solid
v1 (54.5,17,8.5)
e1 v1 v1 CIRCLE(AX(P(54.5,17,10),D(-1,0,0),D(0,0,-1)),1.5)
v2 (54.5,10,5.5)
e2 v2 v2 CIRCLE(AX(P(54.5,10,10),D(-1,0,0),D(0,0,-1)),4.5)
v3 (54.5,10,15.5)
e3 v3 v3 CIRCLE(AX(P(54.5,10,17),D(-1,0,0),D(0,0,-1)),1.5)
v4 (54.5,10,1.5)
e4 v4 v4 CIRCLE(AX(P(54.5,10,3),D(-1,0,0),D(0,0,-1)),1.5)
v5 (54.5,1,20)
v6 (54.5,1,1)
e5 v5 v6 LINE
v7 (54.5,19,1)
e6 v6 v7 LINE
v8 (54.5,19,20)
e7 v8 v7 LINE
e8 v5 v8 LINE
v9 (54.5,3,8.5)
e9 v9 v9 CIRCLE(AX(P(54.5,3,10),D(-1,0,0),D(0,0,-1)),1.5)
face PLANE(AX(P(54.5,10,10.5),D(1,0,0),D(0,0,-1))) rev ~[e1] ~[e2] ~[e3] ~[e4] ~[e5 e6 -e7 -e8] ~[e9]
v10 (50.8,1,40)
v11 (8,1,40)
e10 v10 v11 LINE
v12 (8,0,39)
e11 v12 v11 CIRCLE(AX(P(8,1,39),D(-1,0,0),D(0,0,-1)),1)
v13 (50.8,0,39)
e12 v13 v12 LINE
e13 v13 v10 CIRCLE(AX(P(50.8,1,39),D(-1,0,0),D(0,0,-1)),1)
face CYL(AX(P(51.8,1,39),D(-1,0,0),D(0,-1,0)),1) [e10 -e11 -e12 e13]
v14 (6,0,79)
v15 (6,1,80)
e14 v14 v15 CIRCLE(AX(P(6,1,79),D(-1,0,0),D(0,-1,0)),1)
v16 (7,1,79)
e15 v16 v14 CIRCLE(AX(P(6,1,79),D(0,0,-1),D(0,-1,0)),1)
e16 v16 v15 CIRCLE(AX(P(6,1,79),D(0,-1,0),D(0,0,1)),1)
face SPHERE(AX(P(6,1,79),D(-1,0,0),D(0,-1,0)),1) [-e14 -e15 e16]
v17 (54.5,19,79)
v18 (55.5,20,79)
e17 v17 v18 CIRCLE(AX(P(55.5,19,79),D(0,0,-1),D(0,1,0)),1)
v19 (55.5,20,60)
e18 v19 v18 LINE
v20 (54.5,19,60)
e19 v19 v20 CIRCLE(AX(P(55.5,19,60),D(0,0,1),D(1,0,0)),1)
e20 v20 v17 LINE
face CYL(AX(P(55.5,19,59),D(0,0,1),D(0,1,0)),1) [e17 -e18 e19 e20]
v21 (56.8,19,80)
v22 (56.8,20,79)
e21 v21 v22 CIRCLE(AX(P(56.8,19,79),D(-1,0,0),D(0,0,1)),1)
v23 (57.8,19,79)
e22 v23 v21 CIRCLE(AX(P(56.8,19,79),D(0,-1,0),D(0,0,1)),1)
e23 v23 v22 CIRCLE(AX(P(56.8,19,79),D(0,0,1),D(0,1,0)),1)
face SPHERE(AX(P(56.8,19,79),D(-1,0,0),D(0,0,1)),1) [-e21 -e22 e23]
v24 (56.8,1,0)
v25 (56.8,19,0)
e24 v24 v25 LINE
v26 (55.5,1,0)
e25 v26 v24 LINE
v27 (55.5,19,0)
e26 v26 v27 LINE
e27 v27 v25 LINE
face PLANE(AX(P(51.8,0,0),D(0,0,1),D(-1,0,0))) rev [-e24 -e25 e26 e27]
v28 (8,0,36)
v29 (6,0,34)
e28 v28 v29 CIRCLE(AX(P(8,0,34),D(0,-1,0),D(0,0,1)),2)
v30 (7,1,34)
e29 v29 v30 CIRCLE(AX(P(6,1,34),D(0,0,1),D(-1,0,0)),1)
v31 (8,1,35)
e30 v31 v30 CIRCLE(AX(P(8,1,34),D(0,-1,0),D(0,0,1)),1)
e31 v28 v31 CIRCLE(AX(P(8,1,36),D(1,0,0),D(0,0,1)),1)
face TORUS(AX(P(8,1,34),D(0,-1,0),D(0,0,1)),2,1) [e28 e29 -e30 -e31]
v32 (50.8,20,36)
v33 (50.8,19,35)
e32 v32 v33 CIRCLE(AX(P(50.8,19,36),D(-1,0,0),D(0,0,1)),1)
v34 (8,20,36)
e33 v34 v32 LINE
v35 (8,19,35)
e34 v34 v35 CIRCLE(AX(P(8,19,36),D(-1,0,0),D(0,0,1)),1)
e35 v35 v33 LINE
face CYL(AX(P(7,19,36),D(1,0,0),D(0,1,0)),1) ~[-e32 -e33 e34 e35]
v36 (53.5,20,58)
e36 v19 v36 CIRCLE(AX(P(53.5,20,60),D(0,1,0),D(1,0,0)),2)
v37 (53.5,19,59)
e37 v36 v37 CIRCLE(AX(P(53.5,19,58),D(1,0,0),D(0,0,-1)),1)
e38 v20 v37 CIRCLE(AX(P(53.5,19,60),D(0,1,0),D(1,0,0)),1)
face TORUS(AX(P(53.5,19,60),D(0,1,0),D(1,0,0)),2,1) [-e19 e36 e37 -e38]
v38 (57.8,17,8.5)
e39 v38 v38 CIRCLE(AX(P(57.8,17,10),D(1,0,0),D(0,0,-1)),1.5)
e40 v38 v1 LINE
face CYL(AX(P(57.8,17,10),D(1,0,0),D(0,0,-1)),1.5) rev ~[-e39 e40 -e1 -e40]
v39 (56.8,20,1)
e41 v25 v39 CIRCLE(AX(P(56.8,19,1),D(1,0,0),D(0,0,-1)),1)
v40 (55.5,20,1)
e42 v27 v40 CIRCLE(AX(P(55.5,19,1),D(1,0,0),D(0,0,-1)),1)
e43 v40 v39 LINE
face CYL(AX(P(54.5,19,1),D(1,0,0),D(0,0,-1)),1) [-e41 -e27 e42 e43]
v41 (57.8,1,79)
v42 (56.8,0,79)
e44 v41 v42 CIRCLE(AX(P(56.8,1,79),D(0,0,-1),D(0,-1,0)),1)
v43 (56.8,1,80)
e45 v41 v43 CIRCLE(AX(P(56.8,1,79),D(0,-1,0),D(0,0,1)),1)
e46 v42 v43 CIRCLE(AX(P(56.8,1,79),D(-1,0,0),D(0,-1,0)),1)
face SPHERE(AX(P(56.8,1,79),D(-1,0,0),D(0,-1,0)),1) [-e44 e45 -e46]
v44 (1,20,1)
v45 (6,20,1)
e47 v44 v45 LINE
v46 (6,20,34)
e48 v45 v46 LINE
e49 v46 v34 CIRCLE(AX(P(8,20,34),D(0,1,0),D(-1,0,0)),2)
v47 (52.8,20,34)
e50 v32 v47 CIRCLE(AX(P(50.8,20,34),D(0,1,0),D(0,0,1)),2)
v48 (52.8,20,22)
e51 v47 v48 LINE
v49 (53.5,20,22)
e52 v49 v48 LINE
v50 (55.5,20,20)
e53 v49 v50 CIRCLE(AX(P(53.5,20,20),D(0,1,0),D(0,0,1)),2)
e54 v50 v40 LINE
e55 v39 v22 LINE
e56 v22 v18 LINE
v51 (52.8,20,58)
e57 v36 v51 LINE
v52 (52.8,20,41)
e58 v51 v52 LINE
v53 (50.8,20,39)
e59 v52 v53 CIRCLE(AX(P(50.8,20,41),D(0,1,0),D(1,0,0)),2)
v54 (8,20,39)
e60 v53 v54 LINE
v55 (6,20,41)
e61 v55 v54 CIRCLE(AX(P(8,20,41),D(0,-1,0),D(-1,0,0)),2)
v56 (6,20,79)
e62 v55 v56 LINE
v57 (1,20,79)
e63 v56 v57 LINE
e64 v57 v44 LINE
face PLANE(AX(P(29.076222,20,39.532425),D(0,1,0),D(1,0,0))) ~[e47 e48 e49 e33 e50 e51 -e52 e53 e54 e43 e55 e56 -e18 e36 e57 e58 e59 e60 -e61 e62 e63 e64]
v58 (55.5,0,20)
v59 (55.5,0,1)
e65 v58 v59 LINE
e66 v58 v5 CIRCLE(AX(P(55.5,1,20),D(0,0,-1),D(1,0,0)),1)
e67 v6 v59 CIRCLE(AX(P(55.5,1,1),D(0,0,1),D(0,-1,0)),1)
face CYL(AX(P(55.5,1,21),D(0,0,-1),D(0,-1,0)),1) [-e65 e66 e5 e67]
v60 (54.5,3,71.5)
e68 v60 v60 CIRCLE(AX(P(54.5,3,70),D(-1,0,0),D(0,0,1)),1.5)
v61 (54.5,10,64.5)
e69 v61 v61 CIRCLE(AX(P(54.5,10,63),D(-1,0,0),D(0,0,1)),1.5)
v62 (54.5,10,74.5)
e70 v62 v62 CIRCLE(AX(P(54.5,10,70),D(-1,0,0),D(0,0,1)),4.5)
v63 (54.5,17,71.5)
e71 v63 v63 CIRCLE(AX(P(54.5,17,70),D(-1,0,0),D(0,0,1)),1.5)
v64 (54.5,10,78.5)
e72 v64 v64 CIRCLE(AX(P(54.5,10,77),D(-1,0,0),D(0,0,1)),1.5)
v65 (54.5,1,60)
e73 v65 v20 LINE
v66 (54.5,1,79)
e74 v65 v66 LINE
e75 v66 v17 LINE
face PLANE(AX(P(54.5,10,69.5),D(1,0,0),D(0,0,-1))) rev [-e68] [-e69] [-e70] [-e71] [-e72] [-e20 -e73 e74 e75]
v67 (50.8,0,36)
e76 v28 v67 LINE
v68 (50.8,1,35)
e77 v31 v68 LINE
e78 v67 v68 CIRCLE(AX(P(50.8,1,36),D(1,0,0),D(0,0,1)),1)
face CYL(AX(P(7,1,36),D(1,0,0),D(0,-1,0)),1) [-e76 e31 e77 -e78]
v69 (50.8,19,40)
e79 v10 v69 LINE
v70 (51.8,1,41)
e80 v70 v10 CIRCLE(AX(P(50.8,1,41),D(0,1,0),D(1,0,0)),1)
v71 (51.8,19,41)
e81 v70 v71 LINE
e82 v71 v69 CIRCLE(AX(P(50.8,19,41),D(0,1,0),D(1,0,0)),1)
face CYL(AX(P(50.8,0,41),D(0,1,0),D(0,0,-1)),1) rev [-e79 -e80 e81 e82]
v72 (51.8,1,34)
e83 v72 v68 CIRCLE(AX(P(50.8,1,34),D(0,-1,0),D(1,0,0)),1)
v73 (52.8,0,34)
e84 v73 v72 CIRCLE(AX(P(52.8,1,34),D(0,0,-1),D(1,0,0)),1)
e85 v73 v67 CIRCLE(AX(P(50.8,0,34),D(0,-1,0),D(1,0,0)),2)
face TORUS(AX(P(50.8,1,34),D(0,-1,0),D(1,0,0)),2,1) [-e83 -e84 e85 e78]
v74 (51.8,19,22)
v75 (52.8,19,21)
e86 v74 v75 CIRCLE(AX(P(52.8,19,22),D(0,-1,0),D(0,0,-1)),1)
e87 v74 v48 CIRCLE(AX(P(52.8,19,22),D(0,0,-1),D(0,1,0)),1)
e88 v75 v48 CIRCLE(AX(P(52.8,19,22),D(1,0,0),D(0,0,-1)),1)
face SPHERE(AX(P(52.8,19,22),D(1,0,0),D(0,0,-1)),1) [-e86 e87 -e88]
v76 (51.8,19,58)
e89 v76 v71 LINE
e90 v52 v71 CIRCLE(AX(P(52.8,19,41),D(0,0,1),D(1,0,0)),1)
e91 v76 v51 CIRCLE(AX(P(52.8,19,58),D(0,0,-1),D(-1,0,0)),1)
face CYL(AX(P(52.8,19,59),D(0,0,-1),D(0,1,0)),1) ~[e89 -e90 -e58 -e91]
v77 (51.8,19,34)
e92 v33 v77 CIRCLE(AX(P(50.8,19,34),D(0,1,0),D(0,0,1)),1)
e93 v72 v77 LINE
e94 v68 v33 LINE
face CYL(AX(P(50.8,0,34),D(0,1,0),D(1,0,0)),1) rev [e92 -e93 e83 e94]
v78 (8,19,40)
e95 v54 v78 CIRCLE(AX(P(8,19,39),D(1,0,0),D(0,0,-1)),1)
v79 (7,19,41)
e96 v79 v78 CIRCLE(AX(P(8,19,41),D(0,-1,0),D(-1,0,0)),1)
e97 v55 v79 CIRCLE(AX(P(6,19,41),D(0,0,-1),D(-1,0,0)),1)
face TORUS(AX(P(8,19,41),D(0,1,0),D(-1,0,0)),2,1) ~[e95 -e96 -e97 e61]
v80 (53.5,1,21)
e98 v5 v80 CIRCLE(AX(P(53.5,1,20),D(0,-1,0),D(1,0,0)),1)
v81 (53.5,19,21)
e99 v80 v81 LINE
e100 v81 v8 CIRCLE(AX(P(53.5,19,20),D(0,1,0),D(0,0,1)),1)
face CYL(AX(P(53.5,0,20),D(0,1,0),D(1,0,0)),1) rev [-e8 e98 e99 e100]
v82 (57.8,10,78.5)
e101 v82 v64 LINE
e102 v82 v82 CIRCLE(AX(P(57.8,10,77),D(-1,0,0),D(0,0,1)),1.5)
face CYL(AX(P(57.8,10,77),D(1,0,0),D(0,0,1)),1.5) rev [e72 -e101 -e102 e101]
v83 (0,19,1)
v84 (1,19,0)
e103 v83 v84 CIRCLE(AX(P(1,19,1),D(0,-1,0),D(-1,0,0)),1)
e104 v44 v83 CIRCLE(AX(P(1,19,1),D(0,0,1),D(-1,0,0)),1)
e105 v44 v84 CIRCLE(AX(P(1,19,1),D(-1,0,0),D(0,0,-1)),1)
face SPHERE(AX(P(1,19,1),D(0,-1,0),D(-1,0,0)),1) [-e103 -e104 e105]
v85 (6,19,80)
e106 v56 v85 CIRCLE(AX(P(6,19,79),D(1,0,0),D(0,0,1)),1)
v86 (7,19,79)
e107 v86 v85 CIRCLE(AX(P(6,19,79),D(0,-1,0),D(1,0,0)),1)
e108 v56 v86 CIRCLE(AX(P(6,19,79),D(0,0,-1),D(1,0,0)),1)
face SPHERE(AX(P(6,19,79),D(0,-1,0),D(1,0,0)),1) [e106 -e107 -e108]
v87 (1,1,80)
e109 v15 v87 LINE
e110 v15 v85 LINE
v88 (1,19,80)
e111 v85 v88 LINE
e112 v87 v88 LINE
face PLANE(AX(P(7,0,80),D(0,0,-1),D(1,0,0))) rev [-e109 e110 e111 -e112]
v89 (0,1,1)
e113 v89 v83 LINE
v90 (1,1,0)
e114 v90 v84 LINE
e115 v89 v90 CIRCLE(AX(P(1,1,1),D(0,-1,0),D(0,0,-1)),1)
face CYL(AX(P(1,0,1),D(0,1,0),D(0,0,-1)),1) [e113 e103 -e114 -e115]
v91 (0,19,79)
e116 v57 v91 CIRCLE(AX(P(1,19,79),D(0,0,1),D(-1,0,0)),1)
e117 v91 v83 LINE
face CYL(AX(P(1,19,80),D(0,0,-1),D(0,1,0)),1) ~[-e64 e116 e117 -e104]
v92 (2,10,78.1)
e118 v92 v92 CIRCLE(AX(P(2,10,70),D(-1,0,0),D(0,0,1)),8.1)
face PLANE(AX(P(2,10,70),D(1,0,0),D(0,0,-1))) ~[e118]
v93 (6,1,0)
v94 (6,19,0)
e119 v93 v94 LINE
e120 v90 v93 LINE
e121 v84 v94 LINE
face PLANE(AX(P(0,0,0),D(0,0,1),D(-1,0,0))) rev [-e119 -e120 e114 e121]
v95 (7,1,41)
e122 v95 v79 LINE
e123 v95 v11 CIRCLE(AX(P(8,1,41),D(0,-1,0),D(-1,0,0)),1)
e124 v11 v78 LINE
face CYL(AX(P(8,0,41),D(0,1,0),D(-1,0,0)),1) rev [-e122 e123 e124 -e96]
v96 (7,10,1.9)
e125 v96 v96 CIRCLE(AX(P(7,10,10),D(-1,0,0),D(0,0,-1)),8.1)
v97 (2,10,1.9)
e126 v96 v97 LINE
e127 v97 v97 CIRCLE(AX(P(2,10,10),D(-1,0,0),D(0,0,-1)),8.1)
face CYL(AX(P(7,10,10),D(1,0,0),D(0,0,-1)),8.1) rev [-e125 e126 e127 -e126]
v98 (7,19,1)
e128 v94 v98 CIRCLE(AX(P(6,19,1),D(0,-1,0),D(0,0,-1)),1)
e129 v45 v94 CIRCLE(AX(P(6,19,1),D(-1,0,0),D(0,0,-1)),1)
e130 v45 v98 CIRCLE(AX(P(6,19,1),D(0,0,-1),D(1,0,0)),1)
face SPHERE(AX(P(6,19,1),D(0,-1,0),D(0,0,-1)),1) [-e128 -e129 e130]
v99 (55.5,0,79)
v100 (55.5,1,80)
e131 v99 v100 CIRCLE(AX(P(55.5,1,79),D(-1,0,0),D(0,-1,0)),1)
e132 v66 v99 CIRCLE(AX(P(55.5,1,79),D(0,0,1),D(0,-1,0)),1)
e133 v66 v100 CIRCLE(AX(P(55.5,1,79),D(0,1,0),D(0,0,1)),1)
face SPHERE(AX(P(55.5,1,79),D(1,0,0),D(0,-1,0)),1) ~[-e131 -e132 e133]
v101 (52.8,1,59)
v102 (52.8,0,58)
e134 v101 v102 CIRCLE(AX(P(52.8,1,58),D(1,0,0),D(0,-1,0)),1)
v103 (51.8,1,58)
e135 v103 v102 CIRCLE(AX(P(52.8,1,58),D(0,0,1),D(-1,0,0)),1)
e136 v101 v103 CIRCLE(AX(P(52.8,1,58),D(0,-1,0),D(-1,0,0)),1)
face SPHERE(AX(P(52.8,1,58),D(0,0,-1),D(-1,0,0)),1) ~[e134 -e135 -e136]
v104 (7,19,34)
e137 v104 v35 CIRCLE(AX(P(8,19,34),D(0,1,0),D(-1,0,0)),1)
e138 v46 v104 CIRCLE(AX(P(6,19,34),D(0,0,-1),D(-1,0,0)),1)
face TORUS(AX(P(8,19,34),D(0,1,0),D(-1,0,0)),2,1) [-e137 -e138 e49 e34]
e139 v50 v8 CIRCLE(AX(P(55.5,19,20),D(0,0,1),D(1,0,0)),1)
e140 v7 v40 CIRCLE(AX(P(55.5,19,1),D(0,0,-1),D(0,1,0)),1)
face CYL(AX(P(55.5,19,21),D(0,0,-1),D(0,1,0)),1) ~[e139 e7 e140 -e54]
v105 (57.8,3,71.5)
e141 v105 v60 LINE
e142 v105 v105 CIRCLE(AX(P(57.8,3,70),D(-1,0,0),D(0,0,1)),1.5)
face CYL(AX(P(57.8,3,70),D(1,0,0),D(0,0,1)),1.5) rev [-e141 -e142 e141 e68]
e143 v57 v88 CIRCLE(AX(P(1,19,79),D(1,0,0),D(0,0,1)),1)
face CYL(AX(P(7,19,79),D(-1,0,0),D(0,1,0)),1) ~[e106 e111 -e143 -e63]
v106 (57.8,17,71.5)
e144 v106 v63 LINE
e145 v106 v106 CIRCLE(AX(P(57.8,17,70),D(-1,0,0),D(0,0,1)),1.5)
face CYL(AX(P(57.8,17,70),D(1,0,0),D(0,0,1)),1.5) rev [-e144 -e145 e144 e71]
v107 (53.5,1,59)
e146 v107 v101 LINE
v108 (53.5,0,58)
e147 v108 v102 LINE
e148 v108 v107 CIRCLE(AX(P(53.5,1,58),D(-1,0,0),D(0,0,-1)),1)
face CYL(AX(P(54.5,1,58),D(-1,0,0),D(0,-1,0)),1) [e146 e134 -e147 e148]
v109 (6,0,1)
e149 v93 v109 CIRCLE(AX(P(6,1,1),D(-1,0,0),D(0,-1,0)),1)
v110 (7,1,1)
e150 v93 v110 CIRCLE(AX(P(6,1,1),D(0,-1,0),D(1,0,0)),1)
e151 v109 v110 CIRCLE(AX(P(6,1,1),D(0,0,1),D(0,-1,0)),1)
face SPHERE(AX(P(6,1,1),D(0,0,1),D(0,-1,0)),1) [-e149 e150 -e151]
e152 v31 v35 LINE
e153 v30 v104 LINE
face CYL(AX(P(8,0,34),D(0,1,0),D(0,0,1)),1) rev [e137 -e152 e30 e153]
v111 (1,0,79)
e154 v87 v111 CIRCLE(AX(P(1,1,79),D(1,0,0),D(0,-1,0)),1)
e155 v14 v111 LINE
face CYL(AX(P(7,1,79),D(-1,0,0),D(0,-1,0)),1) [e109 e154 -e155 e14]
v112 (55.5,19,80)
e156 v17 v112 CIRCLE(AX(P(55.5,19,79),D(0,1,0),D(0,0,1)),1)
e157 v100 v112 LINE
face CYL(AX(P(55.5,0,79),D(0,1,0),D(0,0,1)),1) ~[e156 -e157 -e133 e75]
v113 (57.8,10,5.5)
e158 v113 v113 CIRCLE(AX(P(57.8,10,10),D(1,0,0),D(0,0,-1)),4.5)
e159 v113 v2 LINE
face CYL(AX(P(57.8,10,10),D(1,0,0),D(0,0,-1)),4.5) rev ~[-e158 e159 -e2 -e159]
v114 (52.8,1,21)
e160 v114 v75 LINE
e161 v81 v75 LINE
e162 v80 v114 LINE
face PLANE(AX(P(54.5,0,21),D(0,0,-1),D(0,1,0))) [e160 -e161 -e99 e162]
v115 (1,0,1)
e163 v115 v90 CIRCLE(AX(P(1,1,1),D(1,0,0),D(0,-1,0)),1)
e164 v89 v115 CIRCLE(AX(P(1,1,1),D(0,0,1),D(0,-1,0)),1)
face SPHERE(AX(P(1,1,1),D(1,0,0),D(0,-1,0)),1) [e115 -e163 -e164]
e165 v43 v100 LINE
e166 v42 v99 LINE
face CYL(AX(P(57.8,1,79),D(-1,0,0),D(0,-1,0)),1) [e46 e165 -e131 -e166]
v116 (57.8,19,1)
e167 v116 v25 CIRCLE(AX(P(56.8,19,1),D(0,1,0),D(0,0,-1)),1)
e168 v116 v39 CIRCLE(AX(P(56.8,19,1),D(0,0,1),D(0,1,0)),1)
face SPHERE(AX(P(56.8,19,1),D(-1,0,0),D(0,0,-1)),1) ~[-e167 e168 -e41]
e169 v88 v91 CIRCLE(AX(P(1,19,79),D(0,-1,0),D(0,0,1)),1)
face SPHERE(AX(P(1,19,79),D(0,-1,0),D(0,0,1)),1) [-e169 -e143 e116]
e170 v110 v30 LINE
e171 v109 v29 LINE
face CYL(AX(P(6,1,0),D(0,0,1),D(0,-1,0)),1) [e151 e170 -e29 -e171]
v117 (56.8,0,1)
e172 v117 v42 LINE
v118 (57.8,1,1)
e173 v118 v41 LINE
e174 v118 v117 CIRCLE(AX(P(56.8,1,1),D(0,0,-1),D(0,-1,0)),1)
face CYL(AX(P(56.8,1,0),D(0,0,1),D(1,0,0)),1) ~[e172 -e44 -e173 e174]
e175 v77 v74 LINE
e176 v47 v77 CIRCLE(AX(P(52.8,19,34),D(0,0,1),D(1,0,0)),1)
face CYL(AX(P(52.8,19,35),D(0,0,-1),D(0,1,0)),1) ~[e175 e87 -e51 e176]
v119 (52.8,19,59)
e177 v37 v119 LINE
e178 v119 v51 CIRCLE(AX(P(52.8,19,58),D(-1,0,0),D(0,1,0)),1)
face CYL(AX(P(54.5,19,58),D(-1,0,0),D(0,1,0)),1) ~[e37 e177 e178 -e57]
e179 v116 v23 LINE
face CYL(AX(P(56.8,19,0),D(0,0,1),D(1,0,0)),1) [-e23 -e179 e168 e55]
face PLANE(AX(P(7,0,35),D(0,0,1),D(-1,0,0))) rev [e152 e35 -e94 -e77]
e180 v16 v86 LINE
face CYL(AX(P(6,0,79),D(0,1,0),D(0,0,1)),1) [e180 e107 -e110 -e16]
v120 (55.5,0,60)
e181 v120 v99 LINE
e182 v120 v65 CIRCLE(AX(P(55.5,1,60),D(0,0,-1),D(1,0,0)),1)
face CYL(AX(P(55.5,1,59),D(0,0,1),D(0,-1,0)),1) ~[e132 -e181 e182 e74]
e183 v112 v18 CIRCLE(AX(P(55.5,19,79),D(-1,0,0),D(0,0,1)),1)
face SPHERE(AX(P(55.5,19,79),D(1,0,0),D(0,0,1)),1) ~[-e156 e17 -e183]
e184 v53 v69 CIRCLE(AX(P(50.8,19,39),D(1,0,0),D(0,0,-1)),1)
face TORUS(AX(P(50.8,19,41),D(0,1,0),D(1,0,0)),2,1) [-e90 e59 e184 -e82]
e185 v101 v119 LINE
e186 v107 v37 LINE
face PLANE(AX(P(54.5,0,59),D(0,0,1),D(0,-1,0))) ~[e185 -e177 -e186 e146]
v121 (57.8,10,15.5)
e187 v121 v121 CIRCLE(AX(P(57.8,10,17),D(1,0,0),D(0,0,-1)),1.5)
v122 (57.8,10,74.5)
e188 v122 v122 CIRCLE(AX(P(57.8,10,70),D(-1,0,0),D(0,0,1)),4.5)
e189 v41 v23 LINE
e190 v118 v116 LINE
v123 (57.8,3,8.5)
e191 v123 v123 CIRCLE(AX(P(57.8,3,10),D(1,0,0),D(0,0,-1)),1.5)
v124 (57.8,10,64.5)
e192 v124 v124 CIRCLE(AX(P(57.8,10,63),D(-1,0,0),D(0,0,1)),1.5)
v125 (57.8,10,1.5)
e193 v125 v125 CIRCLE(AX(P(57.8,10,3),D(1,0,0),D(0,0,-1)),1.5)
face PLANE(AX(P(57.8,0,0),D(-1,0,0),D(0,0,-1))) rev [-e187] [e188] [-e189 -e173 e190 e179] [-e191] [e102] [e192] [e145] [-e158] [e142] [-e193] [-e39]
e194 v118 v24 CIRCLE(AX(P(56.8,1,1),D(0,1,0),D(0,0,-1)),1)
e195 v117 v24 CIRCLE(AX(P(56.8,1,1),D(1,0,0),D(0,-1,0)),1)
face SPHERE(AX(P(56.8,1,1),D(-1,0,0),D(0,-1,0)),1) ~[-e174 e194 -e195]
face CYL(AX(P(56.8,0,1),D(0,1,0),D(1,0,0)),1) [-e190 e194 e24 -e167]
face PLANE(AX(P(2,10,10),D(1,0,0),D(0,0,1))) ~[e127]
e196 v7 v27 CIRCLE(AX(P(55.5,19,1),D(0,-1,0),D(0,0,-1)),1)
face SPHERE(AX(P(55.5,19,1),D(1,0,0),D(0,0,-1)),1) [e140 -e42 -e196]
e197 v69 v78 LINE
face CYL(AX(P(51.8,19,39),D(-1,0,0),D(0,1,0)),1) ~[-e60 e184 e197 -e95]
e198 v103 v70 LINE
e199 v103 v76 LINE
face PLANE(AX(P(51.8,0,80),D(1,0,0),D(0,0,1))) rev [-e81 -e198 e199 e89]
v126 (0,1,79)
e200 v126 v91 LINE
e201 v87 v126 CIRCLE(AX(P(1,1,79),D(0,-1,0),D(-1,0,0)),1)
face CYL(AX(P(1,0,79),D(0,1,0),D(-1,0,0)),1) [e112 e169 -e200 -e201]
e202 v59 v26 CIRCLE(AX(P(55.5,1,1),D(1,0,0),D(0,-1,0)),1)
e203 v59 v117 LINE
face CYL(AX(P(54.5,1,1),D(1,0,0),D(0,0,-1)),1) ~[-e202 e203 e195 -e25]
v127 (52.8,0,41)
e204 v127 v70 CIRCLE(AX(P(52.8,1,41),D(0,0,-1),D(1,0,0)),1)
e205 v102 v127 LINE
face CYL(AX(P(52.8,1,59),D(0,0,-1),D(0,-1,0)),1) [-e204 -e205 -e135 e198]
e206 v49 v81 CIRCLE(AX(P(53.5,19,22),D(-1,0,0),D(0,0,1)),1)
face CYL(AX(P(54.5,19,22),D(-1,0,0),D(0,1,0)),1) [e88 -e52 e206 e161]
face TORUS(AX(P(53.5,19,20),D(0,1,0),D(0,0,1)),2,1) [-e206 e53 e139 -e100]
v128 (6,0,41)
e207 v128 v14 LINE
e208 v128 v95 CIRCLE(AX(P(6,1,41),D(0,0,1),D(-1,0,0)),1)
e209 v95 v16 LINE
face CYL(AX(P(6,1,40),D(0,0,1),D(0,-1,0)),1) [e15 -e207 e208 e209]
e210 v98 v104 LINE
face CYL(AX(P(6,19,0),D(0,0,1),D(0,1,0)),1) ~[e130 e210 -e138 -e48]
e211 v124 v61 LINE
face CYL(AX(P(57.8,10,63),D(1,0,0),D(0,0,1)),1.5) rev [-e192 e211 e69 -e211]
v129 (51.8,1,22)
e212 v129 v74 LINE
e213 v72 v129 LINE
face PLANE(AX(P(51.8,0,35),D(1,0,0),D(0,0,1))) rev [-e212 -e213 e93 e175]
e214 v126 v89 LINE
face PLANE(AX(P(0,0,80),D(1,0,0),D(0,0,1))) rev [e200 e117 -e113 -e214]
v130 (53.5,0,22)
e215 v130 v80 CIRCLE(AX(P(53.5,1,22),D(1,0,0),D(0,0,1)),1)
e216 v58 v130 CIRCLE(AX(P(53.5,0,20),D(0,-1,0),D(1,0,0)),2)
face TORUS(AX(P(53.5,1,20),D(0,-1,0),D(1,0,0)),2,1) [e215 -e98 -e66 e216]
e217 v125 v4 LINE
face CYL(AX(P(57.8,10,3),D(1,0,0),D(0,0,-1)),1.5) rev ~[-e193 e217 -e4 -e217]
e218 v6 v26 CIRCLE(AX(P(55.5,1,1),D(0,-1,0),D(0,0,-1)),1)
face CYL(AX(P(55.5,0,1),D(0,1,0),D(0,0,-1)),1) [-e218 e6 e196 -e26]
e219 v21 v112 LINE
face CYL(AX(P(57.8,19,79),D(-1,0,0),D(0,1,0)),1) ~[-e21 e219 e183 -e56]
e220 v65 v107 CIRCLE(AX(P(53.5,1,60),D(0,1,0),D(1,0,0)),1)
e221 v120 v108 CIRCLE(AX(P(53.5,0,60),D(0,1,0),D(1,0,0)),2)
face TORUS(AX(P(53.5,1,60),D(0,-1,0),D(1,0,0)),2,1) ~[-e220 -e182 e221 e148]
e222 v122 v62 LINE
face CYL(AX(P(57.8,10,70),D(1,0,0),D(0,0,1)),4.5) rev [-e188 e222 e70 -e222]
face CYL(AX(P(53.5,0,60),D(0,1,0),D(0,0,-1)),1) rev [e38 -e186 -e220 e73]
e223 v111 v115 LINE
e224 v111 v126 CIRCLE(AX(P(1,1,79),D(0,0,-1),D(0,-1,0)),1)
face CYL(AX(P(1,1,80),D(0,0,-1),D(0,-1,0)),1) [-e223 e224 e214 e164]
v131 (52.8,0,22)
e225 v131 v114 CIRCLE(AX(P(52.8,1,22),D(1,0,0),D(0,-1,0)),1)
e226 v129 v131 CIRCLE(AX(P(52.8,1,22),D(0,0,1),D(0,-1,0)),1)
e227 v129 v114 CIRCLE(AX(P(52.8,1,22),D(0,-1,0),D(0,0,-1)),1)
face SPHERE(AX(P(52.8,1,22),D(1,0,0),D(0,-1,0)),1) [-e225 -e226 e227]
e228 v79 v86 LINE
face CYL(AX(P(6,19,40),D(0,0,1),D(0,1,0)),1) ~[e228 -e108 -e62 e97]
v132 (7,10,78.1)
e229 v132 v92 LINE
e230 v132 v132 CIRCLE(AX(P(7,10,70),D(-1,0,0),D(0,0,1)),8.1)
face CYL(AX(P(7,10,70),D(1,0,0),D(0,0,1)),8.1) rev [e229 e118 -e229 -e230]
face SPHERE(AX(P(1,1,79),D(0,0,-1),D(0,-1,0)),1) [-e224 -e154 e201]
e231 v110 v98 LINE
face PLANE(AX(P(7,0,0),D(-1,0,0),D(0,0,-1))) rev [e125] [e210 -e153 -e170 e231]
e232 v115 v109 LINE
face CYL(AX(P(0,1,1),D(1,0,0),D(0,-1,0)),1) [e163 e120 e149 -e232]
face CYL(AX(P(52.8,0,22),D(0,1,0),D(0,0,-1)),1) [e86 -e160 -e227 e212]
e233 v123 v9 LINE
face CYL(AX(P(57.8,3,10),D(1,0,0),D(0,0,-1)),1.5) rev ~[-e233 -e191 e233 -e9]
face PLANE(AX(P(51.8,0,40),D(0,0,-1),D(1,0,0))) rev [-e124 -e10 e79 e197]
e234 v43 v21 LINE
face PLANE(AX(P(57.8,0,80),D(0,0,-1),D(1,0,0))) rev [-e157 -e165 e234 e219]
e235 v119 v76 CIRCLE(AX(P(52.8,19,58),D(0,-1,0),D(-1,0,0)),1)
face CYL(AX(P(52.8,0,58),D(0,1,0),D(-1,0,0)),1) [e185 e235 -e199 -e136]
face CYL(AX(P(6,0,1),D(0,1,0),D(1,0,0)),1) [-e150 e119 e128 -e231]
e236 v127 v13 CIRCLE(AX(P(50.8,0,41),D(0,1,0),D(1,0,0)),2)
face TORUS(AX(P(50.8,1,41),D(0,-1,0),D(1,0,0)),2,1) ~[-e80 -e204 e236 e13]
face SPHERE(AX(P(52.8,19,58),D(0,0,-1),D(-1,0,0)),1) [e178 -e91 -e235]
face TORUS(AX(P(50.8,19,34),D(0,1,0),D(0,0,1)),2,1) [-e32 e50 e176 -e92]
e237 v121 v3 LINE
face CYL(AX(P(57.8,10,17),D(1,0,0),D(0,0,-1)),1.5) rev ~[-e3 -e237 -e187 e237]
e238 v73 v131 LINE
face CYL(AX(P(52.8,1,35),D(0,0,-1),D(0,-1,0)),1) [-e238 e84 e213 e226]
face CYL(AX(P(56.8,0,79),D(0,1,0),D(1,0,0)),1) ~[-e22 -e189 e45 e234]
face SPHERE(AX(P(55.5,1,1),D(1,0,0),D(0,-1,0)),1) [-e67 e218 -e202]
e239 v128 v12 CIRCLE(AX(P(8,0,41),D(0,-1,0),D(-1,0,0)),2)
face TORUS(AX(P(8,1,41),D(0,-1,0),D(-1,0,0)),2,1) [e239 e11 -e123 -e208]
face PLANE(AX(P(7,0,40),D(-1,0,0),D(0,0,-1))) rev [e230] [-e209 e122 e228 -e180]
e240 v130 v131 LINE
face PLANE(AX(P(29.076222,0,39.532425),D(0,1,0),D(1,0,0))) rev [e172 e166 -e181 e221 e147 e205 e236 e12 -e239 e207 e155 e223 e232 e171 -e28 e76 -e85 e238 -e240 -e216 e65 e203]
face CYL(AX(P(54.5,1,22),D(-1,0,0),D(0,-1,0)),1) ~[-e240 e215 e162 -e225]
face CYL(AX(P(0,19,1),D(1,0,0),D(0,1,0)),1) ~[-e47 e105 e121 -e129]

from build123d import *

# Parameters (mm, degrees)
BOSS_EXTRUDE1_DEPTH = 20
SKETCH4_R           = 1.5
SKETCH4_R_2         = 4.5
CUT_EXTRUDE1_DEPTH  = 10
CUT_EXTRUDE2_START  = -3.3
SKETCH5_W           = 21
SKETCH5_H           = 20
CUT_EXTRUDE2_DEPTH  = 2.7
FILLET1_R           = 1
SKETCH3_R           = 8.1
CUT_EXTRUDE3_DEPTH  = 5


with BuildPart() as part:
    # Sketch2 → Boss-Extrude1 (new body)
    with BuildSketch(Plane(origin=(0, 0, 0), x_dir=(1, 0, 0), z_dir=(0, 1, 0))):
        Polygon((0, 0), (0, -80), (6, -80), (6, -40), (50.8, -40), (50.8, -80), (57.8, -80), (57.8, 0), (50.8, 0), (50.8, -35), (6, -35), (6, 0), align=None)
    extrude(amount=BOSS_EXTRUDE1_DEPTH)

    # Sketch4 → Cut-Extrude1 (cut)
    with BuildSketch(Plane.ZY):
        with Locations((70, 17)):
            Circle(SKETCH4_R)
        with Locations((77, 10)):
            Circle(SKETCH4_R)
        with Locations((70, 3)):
            Circle(SKETCH4_R)
        with Locations((63, 10)):
            Circle(SKETCH4_R)
        with Locations((70, 10)):
            Circle(SKETCH4_R_2)
    cut_extrude1 = extrude(amount=-CUT_EXTRUDE1_DEPTH, mode=Mode.SUBTRACT)

    # Sketch5 → Cut-Extrude2 (cut)
    with BuildSketch(Plane.ZY.offset(CUT_EXTRUDE2_START)):
        with Locations((69.5, 10)):
            Rectangle(SKETCH5_W, SKETCH5_H)
    cut_extrude2 = extrude(amount=-CUT_EXTRUDE2_DEPTH, mode=Mode.SUBTRACT)

    # Mirror1: Cut-Extrude1, Cut-Extrude2 across plane
    add(cut_extrude1.mirror(Plane.XY.offset(40)), mode=Mode.SUBTRACT)
    add(cut_extrude2.mirror(Plane.XY.offset(40)), mode=Mode.SUBTRACT)

    # Fillet1
    fillet1_edges = [part.edges().sort_by_distance(p)[0] for p in [
        (1.65, 0, 0),
        (1.65, 20, 0),
        (3.3, 10, 21),
        (4.65, 20, 21),
        (3.3, 0, 10.5),
        (4.65, 0, 21),
        (3.3, 10, 0),
        (3.3, 20, 10.5),
        (6, 0, 28),
        (6, 10, 21),
        (28.4, 0, 35),
        (1.65, 20, 80),
        (50.8, 0, 17.5),
        (54.3, 0, 0),
        (57.8, 0, 40),
        (54.3, 0, 80),
        (50.8, 0, 60),
        (28.4, 0, 40),
        (1.65, 0, 80),
        (0, 0, 40),
        (6, 10, 35),
        (50.8, 10, 35),
        (28.4, 20, 40),
        (50.8, 10, 0),
        (57.8, 10, 0),
        (57.8, 10, 80),
        (50.8, 10, 80),
        (50.8, 10, 40),
        (6, 10, 40),
        (0, 10, 80),
        (0, 10, 0),
        (50.8, 20, 60),
        (54.3, 20, 80),
        (57.8, 20, 40),
        (54.3, 20, 0),
        (50.8, 20, 17.5),
        (28.4, 20, 35),
        (6, 20, 28),
        (6, 0, 49.5),
        (6, 20, 49.5),
        (3.3, 10, 59),
        (3.3, 0, 69.5),
        (3.3, 10, 80),
        (3.3, 20, 69.5),
        (6, 10, 59),
        (4.65, 0, 59),
        (4.65, 20, 59),
        (0, 20, 40),
    ]]
    fillet(fillet1_edges, radius=FILLET1_R)

    # Sketch3 → Cut-Extrude3 (cut)
    with BuildSketch(Plane.ZY.offset(-50.8)):
        with Locations((70, 10)):
            Circle(SKETCH3_R)
        with Locations(Location((10, 10, 0), (0, 0, 180))):
            Circle(SKETCH3_R)
    extrude(amount=-CUT_EXTRUDE3_DEPTH, mode=Mode.SUBTRACT)


with BuildPart() as body_2:
    # Mirror2: mirrored copy
    add(part.part.mirror(Plane.ZY.offset(-28.9)))


solid = body_2.part
